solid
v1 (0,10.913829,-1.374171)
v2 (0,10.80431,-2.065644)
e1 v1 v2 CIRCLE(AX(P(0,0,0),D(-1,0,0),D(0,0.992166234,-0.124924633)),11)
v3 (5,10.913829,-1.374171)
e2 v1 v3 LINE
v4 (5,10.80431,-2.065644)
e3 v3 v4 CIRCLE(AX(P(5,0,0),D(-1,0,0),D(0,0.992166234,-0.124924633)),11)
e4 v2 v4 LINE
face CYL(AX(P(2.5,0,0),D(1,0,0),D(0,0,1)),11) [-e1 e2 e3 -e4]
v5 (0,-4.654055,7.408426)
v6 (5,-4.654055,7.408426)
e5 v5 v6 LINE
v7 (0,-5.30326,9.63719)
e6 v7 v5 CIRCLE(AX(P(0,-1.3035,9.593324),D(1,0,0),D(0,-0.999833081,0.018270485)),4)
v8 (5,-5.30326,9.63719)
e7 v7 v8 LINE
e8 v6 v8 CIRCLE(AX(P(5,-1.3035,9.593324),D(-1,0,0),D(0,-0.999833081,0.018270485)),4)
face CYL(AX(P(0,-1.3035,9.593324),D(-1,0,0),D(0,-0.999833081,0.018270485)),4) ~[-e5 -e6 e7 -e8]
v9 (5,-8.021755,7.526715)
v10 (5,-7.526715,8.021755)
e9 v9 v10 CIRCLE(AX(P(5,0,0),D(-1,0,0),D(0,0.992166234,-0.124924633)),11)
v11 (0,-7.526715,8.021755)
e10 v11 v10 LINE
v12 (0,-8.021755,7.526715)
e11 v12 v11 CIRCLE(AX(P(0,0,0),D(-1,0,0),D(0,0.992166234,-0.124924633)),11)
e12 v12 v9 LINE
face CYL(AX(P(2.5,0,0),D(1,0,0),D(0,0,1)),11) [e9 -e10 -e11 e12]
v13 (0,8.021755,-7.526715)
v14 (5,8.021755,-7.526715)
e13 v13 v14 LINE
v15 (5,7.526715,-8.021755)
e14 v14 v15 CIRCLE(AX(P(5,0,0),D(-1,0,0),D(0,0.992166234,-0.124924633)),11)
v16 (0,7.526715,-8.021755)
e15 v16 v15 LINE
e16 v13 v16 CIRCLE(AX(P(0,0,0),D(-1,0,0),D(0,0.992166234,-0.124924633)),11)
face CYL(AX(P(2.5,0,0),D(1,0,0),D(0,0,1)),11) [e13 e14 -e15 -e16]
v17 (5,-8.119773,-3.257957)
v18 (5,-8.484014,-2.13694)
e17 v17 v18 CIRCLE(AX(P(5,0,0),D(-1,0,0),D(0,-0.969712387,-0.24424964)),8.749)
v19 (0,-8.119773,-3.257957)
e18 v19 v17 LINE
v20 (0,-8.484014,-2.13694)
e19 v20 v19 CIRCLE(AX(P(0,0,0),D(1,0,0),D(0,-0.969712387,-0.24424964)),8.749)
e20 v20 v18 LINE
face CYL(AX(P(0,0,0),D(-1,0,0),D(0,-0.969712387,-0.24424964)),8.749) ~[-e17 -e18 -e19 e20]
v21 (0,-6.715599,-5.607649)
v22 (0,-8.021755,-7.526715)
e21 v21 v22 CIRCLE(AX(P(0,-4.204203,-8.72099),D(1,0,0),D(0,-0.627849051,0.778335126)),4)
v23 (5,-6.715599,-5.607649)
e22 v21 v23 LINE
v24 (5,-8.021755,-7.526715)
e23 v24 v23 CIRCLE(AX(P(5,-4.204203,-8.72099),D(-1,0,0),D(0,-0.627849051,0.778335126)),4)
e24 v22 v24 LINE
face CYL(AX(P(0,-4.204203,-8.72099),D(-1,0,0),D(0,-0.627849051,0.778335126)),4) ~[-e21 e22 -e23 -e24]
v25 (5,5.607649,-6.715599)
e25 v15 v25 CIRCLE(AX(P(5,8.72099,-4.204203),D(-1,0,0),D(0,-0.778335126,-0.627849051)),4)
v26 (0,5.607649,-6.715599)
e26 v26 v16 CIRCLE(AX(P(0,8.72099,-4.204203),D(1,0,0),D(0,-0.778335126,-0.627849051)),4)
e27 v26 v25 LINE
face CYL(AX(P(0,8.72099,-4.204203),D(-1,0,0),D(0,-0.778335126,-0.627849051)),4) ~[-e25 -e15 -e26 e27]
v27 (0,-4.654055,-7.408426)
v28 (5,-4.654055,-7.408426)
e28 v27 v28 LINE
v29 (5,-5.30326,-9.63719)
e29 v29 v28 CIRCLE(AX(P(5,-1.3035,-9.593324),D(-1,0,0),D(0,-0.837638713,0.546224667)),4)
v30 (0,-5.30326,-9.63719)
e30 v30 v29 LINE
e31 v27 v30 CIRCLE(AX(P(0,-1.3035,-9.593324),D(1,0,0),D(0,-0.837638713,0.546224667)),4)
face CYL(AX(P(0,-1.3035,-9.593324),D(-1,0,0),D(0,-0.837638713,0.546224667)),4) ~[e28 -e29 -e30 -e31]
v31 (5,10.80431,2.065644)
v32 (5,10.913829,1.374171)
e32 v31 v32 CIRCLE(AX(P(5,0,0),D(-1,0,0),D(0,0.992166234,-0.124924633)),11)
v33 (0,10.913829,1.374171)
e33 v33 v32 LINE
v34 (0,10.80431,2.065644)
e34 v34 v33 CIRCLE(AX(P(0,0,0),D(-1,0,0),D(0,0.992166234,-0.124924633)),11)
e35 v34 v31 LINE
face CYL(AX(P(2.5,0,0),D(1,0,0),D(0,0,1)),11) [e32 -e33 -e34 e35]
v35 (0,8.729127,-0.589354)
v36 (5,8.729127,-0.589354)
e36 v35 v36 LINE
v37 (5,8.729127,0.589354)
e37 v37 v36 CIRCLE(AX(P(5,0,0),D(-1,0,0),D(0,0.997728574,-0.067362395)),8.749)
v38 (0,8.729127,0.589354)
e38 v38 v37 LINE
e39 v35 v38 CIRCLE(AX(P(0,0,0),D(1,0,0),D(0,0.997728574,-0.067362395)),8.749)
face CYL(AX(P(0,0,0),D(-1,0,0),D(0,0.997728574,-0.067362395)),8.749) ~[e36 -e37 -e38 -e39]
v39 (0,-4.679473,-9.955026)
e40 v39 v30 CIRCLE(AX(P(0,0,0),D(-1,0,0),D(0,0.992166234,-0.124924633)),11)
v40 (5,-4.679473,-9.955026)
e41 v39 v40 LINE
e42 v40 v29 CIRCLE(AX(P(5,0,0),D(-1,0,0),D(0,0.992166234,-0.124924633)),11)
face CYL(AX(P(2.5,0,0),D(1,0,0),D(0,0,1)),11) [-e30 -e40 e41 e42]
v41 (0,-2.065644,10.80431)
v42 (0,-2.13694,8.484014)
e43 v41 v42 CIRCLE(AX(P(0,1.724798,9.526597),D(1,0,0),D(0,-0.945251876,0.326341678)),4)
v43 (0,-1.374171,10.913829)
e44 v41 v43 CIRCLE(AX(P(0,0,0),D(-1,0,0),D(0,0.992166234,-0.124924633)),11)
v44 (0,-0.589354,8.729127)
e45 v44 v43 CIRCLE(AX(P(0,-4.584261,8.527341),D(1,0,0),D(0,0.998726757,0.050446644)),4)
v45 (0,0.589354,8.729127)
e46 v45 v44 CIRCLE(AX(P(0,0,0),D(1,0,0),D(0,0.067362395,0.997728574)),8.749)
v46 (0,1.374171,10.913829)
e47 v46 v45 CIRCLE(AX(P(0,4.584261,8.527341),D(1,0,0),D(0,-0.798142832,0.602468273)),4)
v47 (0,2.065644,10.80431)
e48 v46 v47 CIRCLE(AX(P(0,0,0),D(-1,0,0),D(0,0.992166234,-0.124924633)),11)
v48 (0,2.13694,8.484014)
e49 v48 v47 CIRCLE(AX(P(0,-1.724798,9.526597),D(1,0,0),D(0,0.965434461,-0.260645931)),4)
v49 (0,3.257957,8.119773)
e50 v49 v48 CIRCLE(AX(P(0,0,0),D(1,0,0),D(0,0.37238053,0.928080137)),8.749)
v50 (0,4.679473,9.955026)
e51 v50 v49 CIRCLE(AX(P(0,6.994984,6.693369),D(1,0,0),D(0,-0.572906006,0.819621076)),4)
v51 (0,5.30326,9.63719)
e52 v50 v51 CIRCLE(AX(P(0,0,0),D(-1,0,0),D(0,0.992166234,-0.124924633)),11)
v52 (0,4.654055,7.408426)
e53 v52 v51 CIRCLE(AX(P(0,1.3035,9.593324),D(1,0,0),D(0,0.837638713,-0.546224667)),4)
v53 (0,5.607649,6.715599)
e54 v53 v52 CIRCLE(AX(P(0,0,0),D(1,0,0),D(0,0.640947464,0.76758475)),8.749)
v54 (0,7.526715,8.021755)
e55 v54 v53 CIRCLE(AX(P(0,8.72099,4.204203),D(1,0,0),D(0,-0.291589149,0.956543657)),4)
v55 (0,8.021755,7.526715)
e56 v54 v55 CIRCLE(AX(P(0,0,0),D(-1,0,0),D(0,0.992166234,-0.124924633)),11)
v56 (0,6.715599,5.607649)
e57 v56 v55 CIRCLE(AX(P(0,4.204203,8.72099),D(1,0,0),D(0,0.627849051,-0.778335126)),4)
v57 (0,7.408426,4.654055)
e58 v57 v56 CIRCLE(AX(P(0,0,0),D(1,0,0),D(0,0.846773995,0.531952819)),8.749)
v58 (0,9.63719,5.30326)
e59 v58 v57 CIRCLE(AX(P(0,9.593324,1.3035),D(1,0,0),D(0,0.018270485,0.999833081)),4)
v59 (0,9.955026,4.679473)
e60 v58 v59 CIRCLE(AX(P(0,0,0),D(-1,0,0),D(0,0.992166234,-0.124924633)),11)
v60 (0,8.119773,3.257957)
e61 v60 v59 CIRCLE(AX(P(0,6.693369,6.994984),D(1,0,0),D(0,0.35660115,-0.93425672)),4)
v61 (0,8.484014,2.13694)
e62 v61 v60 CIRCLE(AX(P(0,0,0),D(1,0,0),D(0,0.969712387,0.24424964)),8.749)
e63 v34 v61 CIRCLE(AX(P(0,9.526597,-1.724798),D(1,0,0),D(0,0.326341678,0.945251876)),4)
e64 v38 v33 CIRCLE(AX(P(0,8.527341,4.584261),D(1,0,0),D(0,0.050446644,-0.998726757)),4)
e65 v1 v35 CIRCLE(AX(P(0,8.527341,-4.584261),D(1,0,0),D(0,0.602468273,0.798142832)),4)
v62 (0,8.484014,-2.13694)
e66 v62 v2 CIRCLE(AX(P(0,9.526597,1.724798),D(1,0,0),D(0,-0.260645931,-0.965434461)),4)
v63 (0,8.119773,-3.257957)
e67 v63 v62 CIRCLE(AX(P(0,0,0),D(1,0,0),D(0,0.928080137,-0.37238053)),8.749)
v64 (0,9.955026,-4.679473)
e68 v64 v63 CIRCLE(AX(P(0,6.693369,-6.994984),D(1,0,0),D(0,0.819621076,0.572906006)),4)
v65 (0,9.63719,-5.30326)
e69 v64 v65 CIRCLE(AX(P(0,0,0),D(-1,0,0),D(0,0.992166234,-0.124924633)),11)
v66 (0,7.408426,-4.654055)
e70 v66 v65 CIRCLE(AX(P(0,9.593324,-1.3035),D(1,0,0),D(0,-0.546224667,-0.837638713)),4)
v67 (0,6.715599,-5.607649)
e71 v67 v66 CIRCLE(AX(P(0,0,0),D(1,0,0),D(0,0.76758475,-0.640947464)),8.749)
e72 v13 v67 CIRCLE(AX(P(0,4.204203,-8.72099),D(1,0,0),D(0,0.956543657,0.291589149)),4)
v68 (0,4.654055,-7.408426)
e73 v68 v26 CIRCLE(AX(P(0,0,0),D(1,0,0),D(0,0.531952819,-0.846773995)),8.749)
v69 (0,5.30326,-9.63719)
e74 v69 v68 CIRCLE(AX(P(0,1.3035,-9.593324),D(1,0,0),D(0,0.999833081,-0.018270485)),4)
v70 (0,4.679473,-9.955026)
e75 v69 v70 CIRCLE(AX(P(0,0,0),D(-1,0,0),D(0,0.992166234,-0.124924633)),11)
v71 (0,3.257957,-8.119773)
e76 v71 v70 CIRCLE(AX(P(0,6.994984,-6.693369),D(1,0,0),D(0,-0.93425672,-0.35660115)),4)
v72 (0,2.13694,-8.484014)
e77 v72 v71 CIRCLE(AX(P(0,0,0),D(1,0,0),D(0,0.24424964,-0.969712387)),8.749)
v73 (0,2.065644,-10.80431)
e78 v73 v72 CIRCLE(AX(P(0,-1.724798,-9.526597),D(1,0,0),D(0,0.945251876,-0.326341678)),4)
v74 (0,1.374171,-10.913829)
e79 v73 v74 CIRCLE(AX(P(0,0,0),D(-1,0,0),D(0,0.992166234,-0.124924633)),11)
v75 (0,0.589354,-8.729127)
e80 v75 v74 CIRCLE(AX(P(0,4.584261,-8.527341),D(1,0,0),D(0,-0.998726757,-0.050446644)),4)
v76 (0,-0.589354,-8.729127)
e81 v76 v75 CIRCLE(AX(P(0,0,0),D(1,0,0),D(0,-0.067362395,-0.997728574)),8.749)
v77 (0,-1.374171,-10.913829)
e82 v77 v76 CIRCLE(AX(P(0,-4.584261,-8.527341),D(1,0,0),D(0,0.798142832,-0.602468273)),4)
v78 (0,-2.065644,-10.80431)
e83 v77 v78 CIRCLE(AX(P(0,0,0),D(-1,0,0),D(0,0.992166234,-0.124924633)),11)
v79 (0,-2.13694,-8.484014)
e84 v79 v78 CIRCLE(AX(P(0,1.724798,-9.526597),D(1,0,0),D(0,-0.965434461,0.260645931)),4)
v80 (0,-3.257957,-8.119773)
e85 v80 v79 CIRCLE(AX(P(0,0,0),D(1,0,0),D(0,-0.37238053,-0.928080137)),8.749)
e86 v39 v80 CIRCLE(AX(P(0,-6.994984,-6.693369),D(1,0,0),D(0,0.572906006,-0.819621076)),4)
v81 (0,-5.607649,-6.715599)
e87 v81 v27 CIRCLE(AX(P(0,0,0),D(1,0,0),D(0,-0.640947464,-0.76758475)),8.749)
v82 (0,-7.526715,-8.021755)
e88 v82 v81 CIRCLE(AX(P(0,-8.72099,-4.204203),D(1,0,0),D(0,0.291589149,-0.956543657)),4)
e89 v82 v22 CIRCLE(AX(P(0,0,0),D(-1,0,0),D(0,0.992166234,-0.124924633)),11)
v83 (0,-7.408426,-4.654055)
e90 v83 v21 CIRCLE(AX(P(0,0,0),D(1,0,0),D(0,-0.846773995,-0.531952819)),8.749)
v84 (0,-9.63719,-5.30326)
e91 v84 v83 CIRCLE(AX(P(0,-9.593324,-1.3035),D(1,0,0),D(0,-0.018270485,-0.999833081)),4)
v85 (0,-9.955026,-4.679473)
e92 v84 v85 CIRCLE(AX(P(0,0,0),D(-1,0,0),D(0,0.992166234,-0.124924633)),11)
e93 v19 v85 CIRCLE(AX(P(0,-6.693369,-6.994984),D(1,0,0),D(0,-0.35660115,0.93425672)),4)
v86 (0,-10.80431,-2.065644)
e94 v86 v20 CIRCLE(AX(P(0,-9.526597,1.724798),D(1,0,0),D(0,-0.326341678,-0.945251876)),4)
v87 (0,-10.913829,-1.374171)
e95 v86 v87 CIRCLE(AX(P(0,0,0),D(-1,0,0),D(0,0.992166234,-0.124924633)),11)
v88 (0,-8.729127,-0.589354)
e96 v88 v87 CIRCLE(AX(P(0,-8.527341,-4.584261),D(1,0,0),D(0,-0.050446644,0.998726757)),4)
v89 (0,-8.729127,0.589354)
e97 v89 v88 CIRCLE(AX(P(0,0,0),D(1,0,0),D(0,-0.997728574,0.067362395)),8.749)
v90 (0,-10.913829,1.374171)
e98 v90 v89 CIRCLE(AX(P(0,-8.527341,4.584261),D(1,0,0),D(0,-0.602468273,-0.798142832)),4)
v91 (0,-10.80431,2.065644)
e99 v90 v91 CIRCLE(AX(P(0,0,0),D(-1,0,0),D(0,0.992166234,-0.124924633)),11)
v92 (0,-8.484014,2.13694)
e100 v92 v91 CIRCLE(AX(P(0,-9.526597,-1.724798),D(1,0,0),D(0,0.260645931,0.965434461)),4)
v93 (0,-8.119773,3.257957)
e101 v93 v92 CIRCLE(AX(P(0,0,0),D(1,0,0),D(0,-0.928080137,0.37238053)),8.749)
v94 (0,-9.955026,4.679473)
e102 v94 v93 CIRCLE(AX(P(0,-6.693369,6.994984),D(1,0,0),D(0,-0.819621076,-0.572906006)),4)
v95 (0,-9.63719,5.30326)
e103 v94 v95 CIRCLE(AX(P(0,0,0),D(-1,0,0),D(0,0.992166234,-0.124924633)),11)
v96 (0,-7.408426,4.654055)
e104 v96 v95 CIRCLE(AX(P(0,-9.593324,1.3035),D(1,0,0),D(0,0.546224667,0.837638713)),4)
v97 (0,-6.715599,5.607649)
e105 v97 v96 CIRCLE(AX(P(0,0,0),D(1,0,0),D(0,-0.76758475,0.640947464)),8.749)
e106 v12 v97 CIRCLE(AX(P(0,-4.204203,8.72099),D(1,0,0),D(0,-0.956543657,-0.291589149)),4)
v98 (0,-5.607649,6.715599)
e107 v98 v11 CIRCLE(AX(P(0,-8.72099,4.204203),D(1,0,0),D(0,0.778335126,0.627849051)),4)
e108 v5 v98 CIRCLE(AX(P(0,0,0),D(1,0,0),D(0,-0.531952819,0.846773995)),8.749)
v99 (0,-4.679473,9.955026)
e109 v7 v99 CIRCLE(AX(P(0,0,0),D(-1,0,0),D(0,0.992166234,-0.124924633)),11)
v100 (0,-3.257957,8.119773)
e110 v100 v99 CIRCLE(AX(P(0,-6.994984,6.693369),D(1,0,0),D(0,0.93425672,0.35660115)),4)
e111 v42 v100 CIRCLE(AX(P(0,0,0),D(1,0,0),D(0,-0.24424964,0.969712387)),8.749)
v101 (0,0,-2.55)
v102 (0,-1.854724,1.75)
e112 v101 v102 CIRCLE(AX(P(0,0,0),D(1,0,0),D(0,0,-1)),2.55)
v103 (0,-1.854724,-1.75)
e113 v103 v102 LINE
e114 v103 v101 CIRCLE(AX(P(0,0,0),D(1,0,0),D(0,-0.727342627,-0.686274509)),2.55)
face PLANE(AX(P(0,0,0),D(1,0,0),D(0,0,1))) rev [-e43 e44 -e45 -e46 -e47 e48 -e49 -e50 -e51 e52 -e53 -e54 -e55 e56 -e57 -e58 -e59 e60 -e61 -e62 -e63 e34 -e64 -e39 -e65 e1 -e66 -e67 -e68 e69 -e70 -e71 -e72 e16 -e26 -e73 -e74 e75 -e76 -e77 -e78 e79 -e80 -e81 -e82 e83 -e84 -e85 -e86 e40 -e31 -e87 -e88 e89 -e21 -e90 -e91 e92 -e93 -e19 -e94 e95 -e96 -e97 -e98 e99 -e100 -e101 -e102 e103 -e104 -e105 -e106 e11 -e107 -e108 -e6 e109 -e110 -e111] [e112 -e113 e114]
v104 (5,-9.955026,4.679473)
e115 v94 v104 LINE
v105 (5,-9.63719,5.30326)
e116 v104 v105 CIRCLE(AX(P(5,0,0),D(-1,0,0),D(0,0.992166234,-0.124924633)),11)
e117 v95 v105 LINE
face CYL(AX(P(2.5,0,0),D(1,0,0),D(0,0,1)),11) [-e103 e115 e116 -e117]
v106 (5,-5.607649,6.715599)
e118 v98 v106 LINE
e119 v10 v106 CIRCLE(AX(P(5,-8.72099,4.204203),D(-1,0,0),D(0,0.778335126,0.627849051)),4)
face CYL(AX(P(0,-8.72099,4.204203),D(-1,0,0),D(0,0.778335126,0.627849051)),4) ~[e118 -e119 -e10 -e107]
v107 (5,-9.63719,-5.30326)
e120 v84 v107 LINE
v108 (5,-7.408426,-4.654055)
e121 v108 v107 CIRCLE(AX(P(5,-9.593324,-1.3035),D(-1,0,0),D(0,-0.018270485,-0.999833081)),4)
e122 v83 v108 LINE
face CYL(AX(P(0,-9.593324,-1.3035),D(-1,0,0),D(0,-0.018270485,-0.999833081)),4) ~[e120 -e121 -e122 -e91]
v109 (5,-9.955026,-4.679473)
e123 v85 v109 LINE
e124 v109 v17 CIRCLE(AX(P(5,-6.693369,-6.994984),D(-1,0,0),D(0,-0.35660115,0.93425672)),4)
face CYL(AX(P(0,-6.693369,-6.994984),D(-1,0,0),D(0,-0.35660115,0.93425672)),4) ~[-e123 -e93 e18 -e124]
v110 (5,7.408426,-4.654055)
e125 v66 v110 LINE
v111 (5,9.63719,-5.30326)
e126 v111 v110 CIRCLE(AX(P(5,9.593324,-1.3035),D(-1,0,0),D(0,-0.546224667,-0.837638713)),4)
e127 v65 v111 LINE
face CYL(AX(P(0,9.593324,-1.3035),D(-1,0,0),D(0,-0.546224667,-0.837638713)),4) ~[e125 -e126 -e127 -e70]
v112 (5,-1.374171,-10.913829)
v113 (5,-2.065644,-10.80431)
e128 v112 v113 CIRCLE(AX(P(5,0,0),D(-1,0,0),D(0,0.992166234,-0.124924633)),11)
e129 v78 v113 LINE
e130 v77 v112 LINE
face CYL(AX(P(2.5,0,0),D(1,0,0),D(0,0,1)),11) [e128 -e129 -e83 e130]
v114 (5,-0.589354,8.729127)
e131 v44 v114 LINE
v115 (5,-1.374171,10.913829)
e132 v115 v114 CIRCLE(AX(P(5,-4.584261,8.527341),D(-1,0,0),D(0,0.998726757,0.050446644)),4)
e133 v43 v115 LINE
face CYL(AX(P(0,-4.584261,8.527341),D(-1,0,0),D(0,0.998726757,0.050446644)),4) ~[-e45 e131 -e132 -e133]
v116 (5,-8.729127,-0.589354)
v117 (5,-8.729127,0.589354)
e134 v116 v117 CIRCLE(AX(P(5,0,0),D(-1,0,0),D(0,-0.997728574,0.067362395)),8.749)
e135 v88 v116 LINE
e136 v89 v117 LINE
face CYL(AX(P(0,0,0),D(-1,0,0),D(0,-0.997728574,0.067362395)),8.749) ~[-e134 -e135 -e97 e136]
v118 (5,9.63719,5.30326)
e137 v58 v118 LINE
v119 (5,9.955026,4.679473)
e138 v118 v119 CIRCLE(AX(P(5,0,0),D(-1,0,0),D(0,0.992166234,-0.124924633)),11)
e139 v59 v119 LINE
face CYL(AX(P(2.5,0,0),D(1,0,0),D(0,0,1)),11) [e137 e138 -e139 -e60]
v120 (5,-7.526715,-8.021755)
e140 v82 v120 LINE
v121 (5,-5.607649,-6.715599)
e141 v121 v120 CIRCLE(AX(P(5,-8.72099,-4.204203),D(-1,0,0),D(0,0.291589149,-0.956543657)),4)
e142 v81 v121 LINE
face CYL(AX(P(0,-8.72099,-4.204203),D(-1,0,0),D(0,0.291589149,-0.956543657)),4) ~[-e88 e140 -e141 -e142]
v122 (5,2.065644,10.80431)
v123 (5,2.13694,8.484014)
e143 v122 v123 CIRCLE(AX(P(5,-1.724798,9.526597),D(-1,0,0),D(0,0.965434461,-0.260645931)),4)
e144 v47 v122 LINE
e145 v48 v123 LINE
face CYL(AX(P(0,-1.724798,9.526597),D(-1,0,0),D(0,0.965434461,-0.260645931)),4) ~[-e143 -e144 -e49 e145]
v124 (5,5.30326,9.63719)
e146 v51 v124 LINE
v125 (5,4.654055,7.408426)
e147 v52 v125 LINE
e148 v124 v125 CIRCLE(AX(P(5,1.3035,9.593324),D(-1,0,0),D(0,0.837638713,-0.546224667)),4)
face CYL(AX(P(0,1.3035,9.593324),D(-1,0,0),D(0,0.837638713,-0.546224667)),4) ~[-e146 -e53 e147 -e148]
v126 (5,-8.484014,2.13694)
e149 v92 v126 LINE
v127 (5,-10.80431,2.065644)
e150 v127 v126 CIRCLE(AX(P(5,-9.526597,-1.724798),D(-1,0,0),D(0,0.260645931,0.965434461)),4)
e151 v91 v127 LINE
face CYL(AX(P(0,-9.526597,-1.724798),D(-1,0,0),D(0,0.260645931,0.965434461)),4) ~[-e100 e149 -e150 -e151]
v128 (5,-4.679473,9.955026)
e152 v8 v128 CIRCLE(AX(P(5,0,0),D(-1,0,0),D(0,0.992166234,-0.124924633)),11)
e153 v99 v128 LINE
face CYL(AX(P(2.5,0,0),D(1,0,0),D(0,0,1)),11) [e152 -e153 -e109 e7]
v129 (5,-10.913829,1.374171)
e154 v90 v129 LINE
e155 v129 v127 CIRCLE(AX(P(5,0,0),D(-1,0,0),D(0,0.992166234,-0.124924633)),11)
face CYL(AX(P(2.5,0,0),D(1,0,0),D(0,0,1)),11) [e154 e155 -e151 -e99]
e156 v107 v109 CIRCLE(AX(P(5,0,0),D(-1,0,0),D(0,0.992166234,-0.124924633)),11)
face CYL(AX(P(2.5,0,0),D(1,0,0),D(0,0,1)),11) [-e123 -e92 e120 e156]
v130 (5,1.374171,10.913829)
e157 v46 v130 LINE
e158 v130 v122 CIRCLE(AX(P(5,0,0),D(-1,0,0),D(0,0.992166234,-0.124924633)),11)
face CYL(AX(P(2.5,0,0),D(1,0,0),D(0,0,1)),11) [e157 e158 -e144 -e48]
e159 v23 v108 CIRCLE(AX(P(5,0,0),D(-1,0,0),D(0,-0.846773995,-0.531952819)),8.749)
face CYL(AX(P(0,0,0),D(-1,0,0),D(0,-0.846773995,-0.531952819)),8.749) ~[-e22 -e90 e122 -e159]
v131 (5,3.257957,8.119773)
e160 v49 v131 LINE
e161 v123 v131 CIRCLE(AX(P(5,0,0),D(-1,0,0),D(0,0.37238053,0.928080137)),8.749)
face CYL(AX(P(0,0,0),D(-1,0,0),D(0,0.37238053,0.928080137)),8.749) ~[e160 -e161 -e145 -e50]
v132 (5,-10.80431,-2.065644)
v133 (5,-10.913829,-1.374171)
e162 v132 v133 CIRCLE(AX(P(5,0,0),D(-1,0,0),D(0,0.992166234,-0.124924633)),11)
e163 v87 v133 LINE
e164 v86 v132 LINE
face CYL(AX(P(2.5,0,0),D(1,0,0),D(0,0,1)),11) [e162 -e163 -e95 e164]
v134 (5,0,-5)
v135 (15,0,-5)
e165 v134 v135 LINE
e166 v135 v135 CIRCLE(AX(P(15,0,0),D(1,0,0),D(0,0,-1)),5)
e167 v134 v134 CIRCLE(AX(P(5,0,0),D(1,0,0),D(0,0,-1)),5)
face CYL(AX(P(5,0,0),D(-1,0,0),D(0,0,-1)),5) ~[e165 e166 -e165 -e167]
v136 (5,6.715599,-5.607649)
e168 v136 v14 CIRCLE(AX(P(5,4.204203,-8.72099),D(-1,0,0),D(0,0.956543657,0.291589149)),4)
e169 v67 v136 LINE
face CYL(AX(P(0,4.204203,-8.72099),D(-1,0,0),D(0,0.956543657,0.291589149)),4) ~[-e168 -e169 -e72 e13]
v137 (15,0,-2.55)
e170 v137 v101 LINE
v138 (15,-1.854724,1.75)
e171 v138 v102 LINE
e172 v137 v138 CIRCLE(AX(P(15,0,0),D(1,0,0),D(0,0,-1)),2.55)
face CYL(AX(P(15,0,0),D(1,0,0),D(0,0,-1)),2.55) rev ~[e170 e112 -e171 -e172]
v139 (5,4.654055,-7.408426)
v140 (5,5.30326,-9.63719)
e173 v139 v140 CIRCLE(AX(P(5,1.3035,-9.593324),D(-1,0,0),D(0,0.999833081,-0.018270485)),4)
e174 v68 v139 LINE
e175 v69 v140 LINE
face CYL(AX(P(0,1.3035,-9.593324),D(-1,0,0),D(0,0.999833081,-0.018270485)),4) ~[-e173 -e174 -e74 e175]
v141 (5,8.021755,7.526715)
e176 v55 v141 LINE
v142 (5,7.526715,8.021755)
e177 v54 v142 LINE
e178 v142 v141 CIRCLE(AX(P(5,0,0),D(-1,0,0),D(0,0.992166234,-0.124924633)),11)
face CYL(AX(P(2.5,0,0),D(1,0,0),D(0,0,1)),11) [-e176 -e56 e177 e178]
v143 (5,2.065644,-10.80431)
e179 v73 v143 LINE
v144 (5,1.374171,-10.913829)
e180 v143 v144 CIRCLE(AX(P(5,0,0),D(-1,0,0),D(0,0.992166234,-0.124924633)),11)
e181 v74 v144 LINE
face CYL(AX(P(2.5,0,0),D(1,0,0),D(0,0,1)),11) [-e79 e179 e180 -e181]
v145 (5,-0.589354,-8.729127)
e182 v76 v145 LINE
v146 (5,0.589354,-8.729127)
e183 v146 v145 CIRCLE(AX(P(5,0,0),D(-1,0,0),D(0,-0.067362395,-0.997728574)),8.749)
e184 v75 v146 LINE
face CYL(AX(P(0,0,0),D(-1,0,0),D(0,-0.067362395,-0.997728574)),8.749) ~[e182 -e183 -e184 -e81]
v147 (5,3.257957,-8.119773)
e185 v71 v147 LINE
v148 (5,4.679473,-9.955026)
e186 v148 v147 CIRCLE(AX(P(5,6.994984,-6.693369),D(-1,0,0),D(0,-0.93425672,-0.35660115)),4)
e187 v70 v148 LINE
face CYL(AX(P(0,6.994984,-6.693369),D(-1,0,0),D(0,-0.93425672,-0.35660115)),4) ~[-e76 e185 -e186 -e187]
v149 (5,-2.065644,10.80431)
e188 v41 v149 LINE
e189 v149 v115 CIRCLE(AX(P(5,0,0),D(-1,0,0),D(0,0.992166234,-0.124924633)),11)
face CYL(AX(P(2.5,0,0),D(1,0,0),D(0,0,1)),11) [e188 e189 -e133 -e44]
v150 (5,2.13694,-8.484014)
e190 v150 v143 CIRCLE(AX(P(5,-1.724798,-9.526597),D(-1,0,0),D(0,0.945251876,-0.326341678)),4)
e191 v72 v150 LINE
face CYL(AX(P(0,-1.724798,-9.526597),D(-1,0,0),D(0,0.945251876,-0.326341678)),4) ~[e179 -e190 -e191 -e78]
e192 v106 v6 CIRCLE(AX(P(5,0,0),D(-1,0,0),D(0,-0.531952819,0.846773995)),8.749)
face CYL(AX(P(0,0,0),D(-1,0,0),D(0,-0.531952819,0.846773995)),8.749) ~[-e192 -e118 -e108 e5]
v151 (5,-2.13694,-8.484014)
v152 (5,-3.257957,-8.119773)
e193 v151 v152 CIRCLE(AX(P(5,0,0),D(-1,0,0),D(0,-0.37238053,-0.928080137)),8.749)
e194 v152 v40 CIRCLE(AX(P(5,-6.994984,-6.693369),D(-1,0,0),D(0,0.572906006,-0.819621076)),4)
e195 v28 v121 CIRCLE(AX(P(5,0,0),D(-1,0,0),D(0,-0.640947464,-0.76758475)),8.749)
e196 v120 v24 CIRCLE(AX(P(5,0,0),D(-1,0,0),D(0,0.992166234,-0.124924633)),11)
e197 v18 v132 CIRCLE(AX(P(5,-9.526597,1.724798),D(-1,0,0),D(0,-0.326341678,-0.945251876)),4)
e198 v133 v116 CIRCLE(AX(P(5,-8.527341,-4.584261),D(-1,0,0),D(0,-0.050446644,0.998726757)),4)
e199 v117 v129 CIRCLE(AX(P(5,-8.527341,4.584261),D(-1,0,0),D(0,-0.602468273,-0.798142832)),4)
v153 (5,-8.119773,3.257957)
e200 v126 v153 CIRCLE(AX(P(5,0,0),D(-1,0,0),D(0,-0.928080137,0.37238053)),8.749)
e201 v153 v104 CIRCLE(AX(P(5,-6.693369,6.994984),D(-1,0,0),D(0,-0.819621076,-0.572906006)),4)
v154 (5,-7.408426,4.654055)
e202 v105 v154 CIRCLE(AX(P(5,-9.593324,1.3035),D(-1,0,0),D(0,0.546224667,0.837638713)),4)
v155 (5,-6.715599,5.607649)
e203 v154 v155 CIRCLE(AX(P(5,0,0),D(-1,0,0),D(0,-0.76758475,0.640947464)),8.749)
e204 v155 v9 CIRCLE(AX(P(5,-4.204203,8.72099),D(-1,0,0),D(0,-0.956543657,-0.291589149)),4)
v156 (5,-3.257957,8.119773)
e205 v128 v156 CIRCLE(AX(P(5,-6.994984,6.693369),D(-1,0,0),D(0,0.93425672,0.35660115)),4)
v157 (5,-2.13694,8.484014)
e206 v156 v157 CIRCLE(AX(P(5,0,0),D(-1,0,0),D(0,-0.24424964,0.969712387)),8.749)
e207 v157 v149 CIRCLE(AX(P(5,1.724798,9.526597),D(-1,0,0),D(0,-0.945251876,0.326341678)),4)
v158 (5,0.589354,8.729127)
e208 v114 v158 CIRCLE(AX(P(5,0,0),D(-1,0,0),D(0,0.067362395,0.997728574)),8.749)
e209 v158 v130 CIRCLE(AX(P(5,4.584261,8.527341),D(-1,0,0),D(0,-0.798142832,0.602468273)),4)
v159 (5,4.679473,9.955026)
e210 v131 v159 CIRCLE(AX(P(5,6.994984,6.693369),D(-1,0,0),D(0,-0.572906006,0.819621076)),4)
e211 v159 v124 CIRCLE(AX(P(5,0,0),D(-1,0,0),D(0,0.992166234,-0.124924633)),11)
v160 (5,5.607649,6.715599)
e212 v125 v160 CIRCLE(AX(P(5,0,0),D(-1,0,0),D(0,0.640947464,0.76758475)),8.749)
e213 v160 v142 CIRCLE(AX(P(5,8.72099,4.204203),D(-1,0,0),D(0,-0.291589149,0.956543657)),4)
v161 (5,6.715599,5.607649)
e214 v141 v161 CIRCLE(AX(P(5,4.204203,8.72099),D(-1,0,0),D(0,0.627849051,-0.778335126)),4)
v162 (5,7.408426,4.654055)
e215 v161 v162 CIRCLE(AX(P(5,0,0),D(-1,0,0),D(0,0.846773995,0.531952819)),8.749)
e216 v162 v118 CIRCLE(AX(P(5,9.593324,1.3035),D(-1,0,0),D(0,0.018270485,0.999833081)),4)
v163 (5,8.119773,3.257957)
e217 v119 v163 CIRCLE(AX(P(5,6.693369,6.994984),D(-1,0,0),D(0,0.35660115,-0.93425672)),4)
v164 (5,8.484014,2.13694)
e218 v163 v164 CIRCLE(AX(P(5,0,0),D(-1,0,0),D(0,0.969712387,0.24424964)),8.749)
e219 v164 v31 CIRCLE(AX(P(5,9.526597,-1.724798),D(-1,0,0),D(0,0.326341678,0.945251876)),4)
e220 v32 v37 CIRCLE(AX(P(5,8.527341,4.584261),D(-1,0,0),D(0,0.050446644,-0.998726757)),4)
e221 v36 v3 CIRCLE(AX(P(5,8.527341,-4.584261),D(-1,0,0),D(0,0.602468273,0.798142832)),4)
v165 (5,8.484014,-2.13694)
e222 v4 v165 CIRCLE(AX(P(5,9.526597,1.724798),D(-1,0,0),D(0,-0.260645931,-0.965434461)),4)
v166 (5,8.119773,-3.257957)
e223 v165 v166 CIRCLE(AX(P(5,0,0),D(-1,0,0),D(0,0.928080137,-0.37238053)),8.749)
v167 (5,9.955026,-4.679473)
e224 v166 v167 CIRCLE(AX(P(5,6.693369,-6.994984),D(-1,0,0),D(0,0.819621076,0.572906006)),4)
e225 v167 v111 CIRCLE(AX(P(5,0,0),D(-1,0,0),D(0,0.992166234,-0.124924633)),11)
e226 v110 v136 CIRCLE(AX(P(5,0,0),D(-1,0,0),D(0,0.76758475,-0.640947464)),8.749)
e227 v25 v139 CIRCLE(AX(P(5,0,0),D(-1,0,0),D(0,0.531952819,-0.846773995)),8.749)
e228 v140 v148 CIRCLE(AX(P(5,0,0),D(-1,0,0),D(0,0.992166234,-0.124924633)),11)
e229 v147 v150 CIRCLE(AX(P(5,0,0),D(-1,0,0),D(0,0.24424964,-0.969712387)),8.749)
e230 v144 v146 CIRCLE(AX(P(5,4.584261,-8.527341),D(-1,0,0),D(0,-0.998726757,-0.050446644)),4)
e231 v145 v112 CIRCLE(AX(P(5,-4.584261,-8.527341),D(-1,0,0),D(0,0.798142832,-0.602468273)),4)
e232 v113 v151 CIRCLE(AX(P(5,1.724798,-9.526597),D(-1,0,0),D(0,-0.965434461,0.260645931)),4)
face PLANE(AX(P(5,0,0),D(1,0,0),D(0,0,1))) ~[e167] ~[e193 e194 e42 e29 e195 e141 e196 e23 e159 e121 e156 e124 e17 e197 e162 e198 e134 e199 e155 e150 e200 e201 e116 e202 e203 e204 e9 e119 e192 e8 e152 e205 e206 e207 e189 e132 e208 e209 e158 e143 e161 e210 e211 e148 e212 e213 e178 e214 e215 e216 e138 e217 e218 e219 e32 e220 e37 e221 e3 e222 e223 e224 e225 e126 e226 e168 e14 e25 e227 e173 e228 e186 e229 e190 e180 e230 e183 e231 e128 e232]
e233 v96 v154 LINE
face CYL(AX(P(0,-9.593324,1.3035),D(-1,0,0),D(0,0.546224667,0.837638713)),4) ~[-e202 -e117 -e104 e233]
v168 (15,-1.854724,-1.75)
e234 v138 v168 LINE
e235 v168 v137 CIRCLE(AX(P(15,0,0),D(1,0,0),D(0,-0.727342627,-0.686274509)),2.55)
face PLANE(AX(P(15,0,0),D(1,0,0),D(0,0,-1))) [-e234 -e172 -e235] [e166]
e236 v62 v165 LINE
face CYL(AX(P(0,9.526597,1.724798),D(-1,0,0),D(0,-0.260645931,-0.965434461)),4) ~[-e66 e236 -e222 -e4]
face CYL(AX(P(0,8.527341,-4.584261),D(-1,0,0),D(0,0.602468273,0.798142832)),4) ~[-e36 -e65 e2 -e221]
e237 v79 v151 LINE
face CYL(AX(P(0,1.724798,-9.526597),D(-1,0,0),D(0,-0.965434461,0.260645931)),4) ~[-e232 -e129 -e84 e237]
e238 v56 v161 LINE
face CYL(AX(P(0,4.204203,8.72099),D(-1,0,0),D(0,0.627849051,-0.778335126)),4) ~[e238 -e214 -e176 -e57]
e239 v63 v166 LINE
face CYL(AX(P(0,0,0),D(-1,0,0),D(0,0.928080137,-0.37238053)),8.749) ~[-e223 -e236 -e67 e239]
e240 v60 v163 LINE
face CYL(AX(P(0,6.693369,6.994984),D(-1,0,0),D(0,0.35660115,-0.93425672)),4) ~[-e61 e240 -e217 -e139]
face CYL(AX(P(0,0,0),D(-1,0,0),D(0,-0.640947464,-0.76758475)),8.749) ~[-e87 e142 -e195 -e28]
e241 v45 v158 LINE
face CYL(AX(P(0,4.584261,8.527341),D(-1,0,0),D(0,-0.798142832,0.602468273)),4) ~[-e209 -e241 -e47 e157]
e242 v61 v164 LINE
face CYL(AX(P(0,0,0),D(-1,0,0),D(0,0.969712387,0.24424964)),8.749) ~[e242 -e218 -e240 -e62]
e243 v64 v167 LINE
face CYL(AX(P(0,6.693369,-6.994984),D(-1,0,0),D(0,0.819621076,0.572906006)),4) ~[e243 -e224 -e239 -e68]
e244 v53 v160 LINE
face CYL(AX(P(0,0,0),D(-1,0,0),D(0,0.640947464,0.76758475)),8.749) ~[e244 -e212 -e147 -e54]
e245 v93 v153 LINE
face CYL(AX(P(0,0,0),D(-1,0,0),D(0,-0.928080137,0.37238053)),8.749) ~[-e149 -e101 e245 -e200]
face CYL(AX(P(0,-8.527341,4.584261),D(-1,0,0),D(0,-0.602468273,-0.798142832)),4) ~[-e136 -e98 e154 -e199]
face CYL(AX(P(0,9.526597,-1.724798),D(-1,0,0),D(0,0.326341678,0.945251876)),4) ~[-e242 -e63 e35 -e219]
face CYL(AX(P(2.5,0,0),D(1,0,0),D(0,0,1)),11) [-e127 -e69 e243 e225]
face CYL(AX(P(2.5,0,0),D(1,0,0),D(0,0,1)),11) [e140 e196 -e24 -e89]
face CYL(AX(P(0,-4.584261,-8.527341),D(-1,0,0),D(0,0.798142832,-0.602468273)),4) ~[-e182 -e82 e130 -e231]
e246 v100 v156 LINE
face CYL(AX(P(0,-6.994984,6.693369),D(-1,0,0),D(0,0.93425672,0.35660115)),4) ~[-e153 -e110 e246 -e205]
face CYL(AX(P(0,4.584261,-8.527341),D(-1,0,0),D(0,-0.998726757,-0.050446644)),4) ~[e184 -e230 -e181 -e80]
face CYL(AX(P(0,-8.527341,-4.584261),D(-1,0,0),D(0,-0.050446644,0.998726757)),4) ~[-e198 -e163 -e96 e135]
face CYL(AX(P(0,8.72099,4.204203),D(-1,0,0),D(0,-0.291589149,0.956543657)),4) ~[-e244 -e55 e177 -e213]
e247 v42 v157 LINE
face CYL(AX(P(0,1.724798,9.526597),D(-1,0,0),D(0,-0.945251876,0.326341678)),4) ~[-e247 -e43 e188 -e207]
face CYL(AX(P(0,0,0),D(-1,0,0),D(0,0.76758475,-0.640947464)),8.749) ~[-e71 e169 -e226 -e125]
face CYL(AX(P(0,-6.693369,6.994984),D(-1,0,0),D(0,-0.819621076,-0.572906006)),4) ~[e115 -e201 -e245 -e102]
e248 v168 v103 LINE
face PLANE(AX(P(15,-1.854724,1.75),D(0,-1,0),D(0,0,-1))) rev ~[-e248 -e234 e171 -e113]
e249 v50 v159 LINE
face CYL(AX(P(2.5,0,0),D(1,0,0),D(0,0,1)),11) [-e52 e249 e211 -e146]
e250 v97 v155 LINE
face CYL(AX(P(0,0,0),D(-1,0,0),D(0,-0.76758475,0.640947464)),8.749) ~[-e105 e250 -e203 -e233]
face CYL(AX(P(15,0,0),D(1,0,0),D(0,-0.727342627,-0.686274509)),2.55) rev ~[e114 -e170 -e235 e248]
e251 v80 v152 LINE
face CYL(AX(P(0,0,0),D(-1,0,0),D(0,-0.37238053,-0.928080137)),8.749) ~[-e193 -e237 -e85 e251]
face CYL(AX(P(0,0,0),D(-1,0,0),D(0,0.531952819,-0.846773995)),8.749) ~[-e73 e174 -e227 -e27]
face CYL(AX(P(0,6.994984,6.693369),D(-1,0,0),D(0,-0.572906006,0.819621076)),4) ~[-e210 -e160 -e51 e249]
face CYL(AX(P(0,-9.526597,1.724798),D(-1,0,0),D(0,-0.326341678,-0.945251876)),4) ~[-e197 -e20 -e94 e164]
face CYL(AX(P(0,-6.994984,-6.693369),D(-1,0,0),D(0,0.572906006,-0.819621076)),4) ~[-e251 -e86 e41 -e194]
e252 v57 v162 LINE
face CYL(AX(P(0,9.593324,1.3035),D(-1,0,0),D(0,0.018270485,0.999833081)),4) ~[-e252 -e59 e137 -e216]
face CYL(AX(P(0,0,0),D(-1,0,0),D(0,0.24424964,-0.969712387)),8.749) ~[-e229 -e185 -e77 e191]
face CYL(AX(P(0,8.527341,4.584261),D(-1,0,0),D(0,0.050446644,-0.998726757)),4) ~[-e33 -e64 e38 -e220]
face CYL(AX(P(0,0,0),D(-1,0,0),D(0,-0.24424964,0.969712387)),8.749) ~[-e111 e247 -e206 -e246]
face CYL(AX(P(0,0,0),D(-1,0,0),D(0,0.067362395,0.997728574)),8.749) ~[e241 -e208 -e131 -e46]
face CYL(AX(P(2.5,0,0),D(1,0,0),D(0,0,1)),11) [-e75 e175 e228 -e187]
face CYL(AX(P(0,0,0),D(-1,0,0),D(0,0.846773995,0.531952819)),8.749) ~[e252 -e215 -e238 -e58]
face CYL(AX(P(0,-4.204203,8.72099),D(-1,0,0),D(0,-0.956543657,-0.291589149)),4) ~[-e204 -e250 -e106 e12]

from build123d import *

# Parameters (mm, degrees)
BASPROSKE_W              = 5
BASPROSKE_H              = 11
TOOTHCUT_DEPTH           = 17.340134638
TEETHCUTS_COUNT          = 20
TEETHCUTS_ANGLE          = 342
BORSKE_R                 = 2.5
BORE_DEPTH               = 50.0000508
SKETCH1_R                = 5
BOSS_EXTRUDE2_DEPTH      = 10
BOSS_EXTRUDE2_DEPTH_BACK = 5
CUT_EXTRUDE1_DEPTH       = 22.522623175


with BuildPart() as part:
    # BasProSke → Base-Revolve (revolve)
    with BuildSketch(Plane(origin=(0, 0, 0), x_dir=(1, 0, 0), z_dir=(0, 1, 0)), mode=Mode.PRIVATE) as base_revolve_sk:
        with Locations((2.5, 5.5)):
            Rectangle(BASPROSKE_W, BASPROSKE_H)
    revolve(base_revolve_sk.sketch.rotate(Axis((-10, 0, 0), (1, 0, 0)), 180), axis=Axis((-10, 0, 0), (1, 0, 0)))

    # TooCutSke → ToothCut (cut, through all)
    with BuildSketch(Plane(origin=(0, 0, 0), x_dir=(0, 0, -1), z_dir=(1, 0, 0))):
        with BuildLine():
            ThreePointArc((0.589353609, 8.729127295), (0, 8.749), (-0.589353609, 8.729127295))
            ThreePointArc((-0.589353609, 8.729127295), (-0.82475631, 9.893403384), (-1.391689312, 10.937213814))
            ThreePointArc((-1.391689312, 10.937213814), (0, 11.0254), (1.391689312, 10.937213814))
            ThreePointArc((1.391689312, 10.937213814), (0.82475631, 9.893403384), (0.589353609, 8.729127295))
        make_face()
    toothcut = extrude(amount=TOOTHCUT_DEPTH, mode=Mode.SUBTRACT)

    # TeethCuts: ToothCut ×20 about axis
    teethcuts_axis = Axis((-10, 0, 0), (1, 0, 0))
    for i in range(1, TEETHCUTS_COUNT):
        add(toothcut.rotate(teethcuts_axis, i * TEETHCUTS_ANGLE / (TEETHCUTS_COUNT - 1)), mode=Mode.SUBTRACT)

    # BorSke → Bore (cut, symmetric)
    with BuildSketch(Plane(origin=(0, 0, 0), x_dir=(0, 0, -1), z_dir=(1, 0, 0))):
        with Locations(Location((0, 0, 0), (0, 0, 180))):
            Circle(BORSKE_R)
    extrude(amount=BORE_DEPTH, both=True, mode=Mode.SUBTRACT)

    # Sketch1 → Boss-Extrude2 (add, two sides)
    with BuildSketch(Plane(origin=(5, 0, 0), x_dir=(0, 0, -1), z_dir=(1, 0, 0))) as boss_extrude2_sk:
        Circle(SKETCH1_R)
    extrude(amount=BOSS_EXTRUDE2_DEPTH)
    extrude(boss_extrude2_sk.sketch, amount=-BOSS_EXTRUDE2_DEPTH_BACK)

    # Sketch2 → Cut-Extrude1 (cut, through all)
    with BuildSketch(Plane(origin=(15, 0, 0), x_dir=(0, 0, -1), z_dir=(1, 0, 0))):
        with BuildLine():
            ThreePointArc((2.55, 0), (-1.009950494, 2.341473895), (-1.75, -1.854723699))
            Line((-1.75, -1.854723699), (1.75, -1.854723699))
            ThreePointArc((1.75, -1.854723699), (2.341473895, -1.009950494), (2.55, 0))
        make_face()
    extrude(amount=-CUT_EXTRUDE1_DEPTH, mode=Mode.SUBTRACT)


solid = part.part
